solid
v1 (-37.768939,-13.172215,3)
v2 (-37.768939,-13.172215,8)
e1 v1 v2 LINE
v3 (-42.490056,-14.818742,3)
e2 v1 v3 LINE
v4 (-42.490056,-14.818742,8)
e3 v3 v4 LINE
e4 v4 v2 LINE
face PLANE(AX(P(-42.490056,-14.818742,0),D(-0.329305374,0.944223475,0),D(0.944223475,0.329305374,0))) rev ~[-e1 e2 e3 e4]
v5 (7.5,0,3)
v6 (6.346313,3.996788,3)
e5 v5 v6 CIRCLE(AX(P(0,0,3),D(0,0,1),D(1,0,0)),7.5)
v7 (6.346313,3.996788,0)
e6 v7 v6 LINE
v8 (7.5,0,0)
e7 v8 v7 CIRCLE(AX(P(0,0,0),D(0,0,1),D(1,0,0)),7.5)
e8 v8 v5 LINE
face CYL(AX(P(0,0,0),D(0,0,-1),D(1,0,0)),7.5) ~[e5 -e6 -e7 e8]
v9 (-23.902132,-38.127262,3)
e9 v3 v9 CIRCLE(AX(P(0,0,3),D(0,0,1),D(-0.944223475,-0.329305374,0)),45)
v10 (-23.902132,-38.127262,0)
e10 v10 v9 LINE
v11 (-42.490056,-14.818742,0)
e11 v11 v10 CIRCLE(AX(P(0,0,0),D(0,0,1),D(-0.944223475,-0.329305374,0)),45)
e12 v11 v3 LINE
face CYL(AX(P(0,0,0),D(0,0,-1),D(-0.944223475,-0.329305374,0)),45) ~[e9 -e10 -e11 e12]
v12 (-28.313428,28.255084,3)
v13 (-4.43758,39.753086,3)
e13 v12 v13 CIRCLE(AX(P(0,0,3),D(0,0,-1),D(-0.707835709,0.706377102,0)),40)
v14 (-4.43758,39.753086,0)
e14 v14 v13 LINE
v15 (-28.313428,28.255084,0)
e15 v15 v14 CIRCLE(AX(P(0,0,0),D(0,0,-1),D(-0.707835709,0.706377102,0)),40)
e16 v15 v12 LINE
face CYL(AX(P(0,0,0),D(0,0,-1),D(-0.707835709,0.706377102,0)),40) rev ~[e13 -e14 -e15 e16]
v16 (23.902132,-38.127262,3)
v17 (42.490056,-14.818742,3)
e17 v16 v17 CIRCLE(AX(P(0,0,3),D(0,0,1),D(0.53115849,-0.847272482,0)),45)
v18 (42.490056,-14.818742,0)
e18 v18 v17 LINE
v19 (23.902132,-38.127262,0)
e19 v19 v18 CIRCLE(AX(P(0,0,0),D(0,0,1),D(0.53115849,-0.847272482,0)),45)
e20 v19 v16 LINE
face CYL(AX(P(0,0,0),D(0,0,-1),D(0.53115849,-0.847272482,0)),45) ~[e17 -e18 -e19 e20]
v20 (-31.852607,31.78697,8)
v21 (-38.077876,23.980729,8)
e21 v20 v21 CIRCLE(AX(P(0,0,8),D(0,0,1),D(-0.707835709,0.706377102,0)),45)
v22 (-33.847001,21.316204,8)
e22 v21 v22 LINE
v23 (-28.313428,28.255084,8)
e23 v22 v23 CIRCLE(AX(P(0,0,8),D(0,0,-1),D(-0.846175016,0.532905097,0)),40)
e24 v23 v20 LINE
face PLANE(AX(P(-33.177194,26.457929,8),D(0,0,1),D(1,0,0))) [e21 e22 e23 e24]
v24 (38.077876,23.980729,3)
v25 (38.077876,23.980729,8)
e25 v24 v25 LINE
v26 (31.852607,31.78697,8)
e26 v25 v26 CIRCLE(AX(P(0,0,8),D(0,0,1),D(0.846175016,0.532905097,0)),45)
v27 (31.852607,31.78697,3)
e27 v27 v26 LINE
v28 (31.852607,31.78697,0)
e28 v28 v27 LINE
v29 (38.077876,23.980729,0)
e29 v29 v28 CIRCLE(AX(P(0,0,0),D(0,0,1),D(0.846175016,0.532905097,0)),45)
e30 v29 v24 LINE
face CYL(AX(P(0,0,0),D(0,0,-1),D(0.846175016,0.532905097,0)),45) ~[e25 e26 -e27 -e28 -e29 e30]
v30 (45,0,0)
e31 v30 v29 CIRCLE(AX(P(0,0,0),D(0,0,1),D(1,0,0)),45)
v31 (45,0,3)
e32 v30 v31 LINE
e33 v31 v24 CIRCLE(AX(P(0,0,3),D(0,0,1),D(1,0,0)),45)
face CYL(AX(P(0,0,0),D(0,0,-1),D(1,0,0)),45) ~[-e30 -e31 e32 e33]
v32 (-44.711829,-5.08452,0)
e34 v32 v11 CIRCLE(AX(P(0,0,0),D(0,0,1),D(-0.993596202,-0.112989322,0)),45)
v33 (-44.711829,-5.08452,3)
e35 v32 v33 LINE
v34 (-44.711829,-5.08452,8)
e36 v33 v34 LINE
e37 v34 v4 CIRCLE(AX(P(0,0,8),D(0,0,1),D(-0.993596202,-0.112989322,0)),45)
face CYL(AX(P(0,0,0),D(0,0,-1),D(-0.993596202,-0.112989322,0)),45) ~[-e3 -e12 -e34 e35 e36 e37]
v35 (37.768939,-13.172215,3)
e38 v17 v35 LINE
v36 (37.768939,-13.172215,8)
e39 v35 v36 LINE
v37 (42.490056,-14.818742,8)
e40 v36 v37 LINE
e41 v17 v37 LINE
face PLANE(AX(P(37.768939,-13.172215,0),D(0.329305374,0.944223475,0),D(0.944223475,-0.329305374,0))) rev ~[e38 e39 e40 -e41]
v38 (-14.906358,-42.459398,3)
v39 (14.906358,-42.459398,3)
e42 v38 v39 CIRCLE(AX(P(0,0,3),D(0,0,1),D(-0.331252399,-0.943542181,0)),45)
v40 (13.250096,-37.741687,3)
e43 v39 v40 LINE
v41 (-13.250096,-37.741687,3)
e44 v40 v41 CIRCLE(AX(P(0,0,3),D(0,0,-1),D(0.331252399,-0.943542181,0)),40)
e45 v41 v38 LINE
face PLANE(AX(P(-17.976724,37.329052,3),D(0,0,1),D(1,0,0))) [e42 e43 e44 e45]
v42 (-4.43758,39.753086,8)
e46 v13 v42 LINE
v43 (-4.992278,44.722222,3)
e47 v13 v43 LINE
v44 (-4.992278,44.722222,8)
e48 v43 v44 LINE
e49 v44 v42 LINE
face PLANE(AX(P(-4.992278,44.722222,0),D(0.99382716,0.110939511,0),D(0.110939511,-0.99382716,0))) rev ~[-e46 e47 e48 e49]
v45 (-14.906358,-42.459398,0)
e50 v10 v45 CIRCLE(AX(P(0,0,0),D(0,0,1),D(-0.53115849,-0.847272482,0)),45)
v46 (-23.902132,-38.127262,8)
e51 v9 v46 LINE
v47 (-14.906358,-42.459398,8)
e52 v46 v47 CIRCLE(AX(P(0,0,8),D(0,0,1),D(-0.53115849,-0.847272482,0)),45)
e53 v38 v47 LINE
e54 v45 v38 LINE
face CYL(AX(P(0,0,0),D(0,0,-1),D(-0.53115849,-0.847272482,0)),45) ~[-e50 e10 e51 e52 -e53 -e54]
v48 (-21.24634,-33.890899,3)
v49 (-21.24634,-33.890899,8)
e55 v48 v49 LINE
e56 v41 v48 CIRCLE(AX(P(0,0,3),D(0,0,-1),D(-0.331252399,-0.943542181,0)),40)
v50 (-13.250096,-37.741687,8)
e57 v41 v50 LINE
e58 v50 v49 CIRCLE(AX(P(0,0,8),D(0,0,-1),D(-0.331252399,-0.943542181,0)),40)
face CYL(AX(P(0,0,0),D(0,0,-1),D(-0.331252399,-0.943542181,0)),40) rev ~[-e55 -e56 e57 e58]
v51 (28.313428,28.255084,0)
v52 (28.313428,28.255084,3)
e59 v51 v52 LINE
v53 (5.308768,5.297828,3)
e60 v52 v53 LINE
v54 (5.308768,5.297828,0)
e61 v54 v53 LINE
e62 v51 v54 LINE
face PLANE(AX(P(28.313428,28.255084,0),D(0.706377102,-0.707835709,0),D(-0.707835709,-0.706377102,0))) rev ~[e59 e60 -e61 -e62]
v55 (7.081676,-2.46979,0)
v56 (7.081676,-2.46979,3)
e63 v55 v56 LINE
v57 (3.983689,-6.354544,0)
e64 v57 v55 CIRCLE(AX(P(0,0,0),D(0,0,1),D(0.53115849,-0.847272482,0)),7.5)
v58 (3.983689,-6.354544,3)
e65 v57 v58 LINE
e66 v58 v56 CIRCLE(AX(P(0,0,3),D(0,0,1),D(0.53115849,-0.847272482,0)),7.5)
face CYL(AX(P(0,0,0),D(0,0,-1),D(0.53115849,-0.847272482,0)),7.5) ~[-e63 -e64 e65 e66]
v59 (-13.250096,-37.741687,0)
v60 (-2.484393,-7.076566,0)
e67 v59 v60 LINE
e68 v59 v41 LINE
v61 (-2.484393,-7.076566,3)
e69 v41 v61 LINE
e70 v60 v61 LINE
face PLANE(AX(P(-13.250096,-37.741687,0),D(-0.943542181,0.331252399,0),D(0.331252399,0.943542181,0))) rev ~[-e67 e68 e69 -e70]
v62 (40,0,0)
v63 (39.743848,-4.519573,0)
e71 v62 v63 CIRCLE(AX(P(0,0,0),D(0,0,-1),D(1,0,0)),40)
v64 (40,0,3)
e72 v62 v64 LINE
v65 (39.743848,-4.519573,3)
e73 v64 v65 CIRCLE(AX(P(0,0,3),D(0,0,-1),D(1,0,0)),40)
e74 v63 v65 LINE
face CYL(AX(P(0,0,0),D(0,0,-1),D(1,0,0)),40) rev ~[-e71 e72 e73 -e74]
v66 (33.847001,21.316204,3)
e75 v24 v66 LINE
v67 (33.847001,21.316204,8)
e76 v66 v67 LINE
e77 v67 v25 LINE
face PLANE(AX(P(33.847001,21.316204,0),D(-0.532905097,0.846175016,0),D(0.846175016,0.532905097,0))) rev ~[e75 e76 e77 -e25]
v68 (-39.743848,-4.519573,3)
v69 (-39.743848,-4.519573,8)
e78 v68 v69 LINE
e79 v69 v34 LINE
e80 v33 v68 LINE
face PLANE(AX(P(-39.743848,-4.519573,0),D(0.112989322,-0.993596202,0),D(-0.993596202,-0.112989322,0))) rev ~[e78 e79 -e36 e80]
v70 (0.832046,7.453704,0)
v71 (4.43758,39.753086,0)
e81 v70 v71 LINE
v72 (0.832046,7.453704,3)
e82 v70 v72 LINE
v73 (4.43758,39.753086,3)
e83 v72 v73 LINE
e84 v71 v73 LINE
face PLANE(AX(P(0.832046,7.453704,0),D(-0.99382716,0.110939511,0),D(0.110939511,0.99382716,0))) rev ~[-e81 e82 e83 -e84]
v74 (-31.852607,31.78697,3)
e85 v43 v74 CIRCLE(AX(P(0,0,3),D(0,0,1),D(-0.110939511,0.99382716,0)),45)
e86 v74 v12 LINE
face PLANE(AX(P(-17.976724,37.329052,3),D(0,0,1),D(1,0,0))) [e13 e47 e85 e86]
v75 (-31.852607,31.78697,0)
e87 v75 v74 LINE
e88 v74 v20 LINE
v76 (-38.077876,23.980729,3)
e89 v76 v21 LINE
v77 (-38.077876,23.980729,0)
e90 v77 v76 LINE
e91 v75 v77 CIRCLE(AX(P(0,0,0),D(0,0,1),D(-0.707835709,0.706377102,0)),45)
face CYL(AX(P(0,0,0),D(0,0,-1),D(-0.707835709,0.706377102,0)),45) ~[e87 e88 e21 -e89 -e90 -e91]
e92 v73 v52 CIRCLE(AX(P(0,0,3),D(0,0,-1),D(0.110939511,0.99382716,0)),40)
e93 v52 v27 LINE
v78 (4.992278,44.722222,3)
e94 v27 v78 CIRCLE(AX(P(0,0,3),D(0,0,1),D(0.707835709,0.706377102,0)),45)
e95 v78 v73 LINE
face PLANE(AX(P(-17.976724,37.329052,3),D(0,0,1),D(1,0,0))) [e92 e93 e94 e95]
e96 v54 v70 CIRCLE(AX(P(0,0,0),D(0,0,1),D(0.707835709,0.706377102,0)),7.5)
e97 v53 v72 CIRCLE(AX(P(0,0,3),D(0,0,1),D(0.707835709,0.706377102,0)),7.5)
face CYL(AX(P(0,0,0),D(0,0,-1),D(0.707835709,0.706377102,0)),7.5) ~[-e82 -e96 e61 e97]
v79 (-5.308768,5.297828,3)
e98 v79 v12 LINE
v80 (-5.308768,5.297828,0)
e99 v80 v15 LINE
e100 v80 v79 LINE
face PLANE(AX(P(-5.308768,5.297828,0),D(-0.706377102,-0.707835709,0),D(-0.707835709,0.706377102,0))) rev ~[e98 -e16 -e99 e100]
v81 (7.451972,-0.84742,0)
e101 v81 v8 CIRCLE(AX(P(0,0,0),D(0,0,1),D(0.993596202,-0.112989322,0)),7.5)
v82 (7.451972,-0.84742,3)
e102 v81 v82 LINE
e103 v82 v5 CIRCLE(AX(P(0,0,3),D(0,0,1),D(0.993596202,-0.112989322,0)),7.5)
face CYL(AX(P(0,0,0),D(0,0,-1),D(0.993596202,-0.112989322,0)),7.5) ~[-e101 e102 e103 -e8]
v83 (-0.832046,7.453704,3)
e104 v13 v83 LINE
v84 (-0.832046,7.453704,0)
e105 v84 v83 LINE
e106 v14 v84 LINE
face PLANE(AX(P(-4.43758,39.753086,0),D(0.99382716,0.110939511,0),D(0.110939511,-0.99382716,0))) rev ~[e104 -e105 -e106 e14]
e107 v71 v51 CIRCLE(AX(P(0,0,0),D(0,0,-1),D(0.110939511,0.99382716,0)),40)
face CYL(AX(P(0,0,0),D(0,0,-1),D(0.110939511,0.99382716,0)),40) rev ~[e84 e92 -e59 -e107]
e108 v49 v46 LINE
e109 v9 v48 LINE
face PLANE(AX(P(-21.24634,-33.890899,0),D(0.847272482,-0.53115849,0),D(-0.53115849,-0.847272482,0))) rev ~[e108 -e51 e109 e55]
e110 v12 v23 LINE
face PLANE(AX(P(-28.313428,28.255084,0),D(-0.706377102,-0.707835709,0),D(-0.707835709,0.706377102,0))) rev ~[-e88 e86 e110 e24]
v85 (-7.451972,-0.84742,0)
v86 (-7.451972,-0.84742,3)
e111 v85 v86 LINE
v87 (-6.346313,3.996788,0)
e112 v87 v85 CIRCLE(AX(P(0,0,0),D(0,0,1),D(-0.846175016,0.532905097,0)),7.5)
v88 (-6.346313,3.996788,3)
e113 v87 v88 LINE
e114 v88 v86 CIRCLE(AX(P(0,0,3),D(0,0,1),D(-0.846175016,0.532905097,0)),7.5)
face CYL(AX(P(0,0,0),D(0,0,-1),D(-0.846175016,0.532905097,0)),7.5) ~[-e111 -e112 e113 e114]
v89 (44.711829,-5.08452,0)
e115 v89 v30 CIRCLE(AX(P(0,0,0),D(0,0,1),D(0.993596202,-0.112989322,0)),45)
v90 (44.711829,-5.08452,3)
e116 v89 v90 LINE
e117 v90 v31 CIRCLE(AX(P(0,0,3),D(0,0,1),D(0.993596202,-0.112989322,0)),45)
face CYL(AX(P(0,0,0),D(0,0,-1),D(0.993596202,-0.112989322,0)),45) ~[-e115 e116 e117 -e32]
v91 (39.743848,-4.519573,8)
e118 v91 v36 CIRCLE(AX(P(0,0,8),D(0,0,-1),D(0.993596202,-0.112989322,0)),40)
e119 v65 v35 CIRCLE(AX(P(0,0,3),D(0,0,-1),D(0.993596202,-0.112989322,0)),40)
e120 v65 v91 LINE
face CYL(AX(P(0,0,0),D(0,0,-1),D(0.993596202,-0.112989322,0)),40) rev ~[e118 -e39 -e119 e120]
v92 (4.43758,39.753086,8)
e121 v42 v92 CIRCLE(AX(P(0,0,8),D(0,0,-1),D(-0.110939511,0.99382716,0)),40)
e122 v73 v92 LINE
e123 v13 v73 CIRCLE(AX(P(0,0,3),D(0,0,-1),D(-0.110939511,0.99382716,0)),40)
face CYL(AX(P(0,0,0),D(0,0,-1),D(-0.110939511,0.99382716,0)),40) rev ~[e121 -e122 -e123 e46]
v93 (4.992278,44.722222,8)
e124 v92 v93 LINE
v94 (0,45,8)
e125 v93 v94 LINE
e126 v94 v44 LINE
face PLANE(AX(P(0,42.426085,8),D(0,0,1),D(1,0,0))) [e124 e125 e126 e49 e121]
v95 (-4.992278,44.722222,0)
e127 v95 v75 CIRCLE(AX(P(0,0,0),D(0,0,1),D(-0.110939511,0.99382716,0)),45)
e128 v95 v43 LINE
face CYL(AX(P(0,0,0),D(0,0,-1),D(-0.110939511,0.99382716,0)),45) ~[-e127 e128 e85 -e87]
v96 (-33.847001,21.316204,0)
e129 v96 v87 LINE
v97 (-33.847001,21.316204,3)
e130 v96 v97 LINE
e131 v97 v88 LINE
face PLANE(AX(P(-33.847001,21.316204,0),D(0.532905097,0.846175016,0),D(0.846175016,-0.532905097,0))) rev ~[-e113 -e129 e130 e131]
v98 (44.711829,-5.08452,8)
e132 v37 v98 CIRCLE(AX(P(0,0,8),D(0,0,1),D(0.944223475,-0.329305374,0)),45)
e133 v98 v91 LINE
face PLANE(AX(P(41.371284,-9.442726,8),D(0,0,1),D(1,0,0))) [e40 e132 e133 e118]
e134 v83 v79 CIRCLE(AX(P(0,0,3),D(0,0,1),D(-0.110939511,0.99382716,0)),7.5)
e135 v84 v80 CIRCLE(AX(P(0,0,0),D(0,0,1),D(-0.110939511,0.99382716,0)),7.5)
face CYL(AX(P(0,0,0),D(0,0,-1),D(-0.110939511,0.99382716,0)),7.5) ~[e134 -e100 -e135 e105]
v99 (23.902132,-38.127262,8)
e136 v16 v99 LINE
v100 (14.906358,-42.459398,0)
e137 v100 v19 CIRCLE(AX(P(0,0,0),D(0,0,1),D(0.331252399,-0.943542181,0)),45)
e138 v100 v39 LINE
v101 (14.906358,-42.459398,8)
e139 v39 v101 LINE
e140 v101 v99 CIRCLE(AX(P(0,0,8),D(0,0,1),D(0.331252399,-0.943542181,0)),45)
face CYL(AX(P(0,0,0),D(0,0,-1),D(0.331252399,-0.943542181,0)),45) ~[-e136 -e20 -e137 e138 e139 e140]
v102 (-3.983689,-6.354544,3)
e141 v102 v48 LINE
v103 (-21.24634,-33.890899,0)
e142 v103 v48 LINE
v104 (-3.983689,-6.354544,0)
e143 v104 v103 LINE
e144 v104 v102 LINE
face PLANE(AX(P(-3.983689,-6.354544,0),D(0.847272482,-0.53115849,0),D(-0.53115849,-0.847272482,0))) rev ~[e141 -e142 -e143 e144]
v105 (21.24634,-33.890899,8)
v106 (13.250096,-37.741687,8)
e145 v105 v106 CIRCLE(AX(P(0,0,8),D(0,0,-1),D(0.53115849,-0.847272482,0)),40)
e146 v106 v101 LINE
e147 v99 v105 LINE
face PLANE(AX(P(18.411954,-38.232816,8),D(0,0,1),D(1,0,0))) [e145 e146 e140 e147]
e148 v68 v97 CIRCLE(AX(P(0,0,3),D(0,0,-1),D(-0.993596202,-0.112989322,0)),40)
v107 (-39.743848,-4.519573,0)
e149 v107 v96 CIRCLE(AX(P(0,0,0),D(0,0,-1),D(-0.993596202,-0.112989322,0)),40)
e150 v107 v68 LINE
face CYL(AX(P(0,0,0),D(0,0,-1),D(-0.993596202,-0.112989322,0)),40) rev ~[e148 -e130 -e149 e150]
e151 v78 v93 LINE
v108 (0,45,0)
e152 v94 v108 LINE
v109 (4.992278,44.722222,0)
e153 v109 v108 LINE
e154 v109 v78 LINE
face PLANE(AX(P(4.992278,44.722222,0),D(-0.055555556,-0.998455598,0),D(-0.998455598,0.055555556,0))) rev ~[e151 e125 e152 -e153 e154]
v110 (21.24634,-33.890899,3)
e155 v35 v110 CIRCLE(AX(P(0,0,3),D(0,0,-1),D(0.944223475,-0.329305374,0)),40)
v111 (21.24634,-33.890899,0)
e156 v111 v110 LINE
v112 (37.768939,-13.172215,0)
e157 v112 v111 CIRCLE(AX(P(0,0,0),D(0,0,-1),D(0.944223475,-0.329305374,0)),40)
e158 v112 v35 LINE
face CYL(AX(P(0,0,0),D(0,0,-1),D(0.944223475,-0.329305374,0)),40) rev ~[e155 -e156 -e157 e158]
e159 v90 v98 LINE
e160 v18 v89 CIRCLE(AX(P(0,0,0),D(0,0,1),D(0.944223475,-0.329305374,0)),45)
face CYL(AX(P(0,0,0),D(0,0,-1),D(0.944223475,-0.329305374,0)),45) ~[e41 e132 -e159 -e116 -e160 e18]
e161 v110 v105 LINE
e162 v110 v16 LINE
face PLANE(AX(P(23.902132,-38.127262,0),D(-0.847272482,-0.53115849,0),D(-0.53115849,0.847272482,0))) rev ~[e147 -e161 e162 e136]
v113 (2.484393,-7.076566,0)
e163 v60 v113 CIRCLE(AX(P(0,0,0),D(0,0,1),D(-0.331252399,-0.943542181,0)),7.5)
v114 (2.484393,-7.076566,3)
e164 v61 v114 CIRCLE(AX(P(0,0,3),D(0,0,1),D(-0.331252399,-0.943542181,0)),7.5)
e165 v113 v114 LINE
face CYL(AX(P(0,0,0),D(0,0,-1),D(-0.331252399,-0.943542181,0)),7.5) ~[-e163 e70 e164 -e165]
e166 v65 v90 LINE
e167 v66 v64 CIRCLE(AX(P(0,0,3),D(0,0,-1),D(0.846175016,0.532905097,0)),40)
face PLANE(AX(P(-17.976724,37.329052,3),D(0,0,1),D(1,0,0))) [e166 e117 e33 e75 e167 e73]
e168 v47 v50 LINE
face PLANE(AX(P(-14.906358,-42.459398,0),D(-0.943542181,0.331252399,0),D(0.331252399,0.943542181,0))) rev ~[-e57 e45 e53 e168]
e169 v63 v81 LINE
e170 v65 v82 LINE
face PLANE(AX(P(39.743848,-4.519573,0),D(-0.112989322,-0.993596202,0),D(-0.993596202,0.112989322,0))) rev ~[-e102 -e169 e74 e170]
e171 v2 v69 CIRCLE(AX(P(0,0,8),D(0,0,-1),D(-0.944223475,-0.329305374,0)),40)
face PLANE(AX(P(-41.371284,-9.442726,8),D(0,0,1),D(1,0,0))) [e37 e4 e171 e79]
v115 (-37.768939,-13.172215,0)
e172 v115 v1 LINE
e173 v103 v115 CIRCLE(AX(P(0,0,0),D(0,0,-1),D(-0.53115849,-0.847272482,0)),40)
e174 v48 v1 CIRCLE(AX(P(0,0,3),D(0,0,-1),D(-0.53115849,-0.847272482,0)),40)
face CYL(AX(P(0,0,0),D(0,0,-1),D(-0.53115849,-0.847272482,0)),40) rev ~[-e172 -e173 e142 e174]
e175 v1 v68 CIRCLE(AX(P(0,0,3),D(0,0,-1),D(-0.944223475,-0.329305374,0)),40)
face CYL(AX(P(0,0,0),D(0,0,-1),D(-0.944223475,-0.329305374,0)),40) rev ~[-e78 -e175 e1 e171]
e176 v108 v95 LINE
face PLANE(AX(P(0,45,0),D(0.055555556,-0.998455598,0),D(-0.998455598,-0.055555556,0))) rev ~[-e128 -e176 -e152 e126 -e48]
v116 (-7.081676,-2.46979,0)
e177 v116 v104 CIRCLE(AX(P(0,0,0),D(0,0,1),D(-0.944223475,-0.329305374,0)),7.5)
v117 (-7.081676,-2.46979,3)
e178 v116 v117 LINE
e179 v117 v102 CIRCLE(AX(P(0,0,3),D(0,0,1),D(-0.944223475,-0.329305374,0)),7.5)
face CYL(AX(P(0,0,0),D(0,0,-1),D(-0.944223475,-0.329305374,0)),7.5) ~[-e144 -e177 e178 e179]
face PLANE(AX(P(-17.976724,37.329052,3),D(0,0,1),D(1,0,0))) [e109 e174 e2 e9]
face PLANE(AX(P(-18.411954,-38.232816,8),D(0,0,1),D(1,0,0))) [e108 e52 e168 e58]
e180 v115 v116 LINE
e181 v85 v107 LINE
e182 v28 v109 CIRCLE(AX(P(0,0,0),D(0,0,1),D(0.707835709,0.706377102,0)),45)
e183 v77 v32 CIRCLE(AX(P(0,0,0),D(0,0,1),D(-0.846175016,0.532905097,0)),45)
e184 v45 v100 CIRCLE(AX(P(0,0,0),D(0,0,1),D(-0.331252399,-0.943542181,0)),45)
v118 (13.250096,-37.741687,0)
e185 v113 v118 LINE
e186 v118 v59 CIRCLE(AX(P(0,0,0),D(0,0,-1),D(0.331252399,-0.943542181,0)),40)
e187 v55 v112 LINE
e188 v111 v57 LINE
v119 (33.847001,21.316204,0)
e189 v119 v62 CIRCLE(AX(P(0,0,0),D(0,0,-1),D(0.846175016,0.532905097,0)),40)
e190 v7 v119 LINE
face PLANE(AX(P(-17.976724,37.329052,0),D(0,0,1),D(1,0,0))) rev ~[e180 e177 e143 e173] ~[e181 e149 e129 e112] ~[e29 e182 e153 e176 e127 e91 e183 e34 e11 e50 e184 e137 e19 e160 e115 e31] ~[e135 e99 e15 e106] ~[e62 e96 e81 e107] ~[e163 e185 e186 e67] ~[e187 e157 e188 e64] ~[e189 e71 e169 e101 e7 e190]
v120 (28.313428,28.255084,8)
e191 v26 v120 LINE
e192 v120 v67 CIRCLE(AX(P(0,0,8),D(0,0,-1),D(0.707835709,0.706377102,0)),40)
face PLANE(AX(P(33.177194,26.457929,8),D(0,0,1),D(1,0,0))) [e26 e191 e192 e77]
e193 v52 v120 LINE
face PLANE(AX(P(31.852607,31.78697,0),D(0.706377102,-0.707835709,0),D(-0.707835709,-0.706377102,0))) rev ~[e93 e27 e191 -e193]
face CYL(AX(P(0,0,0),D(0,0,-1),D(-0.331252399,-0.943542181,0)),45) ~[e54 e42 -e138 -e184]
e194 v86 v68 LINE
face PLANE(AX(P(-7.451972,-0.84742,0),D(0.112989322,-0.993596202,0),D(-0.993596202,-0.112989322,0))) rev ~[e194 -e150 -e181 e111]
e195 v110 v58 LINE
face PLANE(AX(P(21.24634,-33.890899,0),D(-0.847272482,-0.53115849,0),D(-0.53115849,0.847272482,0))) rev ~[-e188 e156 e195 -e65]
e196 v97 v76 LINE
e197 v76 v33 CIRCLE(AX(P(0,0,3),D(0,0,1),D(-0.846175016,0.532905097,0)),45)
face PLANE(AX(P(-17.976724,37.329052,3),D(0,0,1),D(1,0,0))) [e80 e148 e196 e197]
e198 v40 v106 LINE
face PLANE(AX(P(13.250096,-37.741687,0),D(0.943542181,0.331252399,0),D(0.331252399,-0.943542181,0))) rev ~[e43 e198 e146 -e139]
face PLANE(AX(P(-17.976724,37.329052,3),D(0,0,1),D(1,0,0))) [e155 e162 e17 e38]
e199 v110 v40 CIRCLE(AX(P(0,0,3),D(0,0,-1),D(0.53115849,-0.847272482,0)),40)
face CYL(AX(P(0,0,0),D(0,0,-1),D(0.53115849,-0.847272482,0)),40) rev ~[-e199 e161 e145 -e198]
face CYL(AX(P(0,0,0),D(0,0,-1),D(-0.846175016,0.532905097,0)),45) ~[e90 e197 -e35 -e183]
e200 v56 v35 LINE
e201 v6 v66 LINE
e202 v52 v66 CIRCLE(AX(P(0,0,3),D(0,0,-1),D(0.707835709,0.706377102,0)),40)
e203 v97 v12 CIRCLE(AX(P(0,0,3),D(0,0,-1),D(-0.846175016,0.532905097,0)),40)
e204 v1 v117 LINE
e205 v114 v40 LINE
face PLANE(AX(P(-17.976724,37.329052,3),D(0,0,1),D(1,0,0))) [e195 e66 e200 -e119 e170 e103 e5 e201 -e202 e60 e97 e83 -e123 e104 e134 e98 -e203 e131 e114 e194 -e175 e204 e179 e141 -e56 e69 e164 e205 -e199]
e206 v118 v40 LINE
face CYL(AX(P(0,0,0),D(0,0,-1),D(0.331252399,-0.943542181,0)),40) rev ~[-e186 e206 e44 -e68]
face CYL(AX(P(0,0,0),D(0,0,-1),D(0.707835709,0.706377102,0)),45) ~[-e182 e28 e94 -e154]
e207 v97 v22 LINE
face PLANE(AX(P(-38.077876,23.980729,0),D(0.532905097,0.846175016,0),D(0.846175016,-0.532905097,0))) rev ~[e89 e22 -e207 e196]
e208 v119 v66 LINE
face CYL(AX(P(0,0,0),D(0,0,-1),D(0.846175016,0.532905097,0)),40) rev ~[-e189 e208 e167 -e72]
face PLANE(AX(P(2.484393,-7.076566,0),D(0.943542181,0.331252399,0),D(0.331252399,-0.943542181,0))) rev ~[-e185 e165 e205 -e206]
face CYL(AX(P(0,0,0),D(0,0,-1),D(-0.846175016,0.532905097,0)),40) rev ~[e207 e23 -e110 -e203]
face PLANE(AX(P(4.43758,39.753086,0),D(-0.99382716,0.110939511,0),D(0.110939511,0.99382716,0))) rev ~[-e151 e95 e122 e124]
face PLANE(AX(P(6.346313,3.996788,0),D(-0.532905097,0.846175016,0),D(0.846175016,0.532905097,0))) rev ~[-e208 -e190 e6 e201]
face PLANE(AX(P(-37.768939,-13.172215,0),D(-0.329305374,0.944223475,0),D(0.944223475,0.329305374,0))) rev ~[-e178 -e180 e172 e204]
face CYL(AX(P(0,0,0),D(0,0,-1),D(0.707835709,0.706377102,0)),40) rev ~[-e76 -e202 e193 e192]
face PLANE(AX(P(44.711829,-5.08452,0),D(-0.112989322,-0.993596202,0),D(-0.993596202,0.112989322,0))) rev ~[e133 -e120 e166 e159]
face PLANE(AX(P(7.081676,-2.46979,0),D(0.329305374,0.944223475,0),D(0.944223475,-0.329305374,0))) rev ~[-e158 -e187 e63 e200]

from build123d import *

# Parameters (mm, degrees)
F1_DEPTH = 3
F2_DEPTH = 8


with BuildPart() as f1:
    # F0 (on Top) → F1 (new body)
    with BuildSketch(Plane.XY):
        with BuildLine():
            Line((-4.4375804335, 39.7530864198), (-4.9922779877, 44.7222222222))
            ThreePointArc((-4.9922779877, 44.7222222222), (-19.5247682603, 40.5435990556), (-31.8526068859, 31.786969572))
            Line((-31.8526068859, 31.786969572), (-28.313428343, 28.255084064))
            ThreePointArc((-28.313428343, 28.255084064), (-17.3553495647, 36.0387547161), (-4.4375804335, 39.7530864198))
        make_face()
        with BuildLine():
            Line((-28.313428343, 28.255084064), (-31.8526068859, 31.786969572))
            ThreePointArc((-31.8526068859, 31.786969572), (-35.1824167111, 28.0570410836), (-38.0778757126, 23.980729372))
            Line((-38.0778757126, 23.980729372), (-33.8470006334, 21.3162038862))
            ThreePointArc((-33.8470006334, 21.3162038862), (-31.2732592987, 24.9395920743), (-28.313428343, 28.255084064))
        make_face()
        with BuildLine():
            ThreePointArc((-6.3463126188, 3.9967882287), (-5.8637361185, 4.6761735139), (-5.3087678143, 5.297828262))
            Line((-5.3087678143, 5.297828262), (-28.313428343, 28.255084064))
            ThreePointArc((-28.313428343, 28.255084064), (-31.2732592987, 24.9395920743), (-33.8470006334, 21.3162038862))
            Line((-33.8470006334, 21.3162038862), (-6.3463126188, 3.9967882287))
        make_face()
        with BuildLine():
            ThreePointArc((-7.0816760631, -2.4697903022), (-7.3119593414, -1.6689070047), (-7.4519715166, -0.847419917))
            Line((-7.4519715166, -0.847419917), (-39.7438480886, -4.5195728906))
            ThreePointArc((-39.7438480886, -4.5195728906), (-38.9971164873, -8.9008373583), (-37.7689390034, -13.1722149449))
            Line((-37.7689390034, -13.1722149449), (-7.0816760631, -2.4697903022))
        make_face()
        with BuildLine():
            ThreePointArc((-37.7689390034, -13.1722149449), (-38.9971164873, -8.9008373583), (-39.7438480886, -4.5195728906))
            Line((-39.7438480886, -4.5195728906), (-44.7118290996, -5.0845195019))
            ThreePointArc((-44.7118290996, -5.0845195019), (-43.8717560482, -10.013442028), (-42.4900563789, -14.818741813))
            Line((-42.4900563789, -14.818741813), (-37.7689390034, -13.1722149449))
        make_face()
        with BuildLine():
            ThreePointArc((-39.7438480886, -4.5195728906), (-38.9971164873, 8.9008373583), (-33.8470006334, 21.3162038862))
            Line((-33.8470006334, 21.3162038862), (-38.0778757126, 23.980729372))
            ThreePointArc((-38.0778757126, 23.980729372), (-43.8717560482, 10.013442028), (-44.7118290996, -5.0845195019))
            Line((-44.7118290996, -5.0845195019), (-39.7438480886, -4.5195728906))
        make_face()
        with BuildLine():
            ThreePointArc((-21.2463395966, -33.8908992761), (-31.2732592987, -24.9395920743), (-37.7689390034, -13.1722149449))
            Line((-37.7689390034, -13.1722149449), (-42.4900563789, -14.818741813))
            ThreePointArc((-42.4900563789, -14.818741813), (-35.1824167111, -28.0570410836), (-23.9021320462, -38.1272616856))
            Line((-23.9021320462, -38.1272616856), (-21.2463395966, -33.8908992761))
        make_face()
        with BuildLine():
            ThreePointArc((-2.4843929921, -7.0765663609), (-3.2541280434, -6.7572665093), (-3.9836886744, -6.3545436143))
            Line((-3.9836886744, -6.3545436143), (-21.2463395966, -33.8908992761))
            ThreePointArc((-21.2463395966, -33.8908992761), (-17.3553495647, -36.0387547161), (-13.2500959579, -37.7416872583))
            Line((-13.2500959579, -37.7416872583), (-2.4843929921, -7.0765663609))
        make_face()
        with BuildLine():
            ThreePointArc((-23.9021320462, -38.1272616856), (-19.5247682603, -40.5435990556), (-14.9063579526, -42.4593981656))
            Line((-14.9063579526, -42.4593981656), (-13.2500959579, -37.7416872583))
            ThreePointArc((-13.2500959579, -37.7416872583), (-17.3553495647, -36.0387547161), (-21.2463395966, -33.8908992761))
            Line((-21.2463395966, -33.8908992761), (-23.9021320462, -38.1272616856))
        make_face()
        with BuildLine():
            ThreePointArc((-14.9063579526, -42.4593981656), (0, -45), (14.9063579526, -42.4593981656))
            Line((14.9063579526, -42.4593981656), (13.2500959579, -37.7416872583))
            ThreePointArc((13.2500959579, -37.7416872583), (0, -40), (-13.2500959579, -37.7416872583))
            Line((-13.2500959579, -37.7416872583), (-14.9063579526, -42.4593981656))
        make_face()
        with BuildLine():
            ThreePointArc((14.9063579526, -42.4593981656), (19.5247682603, -40.5435990556), (23.9021320462, -38.1272616856))
            Line((23.9021320462, -38.1272616856), (21.2463395966, -33.8908992761))
            ThreePointArc((21.2463395966, -33.8908992761), (17.3553495647, -36.0387547161), (13.2500959579, -37.7416872583))
            Line((13.2500959579, -37.7416872583), (14.9063579526, -42.4593981656))
        make_face()
        with BuildLine():
            ThreePointArc((13.2500959579, -37.7416872583), (17.3553495647, -36.0387547161), (21.2463395966, -33.8908992761))
            Line((21.2463395966, -33.8908992761), (3.9836886744, -6.3545436143))
            ThreePointArc((3.9836886744, -6.3545436143), (3.2541280434, -6.7572665093), (2.4843929921, -7.0765663609))
            Line((2.4843929921, -7.0765663609), (13.2500959579, -37.7416872583))
        make_face()
        with BuildLine():
            ThreePointArc((23.9021320462, -38.1272616856), (35.1824167111, -28.0570410836), (42.4900563789, -14.818741813))
            Line((42.4900563789, -14.818741813), (37.7689390034, -13.1722149449))
            ThreePointArc((37.7689390034, -13.1722149449), (31.2732592987, -24.9395920743), (21.2463395966, -33.8908992761))
            Line((21.2463395966, -33.8908992761), (23.9021320462, -38.1272616856))
        make_face()
        with BuildLine():
            ThreePointArc((42.4900563789, -14.818741813), (43.8717560482, -10.013442028), (44.7118290996, -5.0845195019))
            Line((44.7118290996, -5.0845195019), (39.7438480886, -4.5195728906))
            ThreePointArc((39.7438480886, -4.5195728906), (38.9971164873, -8.9008373583), (37.7689390034, -13.1722149449))
            Line((37.7689390034, -13.1722149449), (42.4900563789, -14.818741813))
        make_face()
        with BuildLine():
            ThreePointArc((37.7689390034, -13.1722149449), (38.9971164873, -8.9008373583), (39.7438480886, -4.5195728906))
            Line((39.7438480886, -4.5195728906), (7.4519715166, -0.847419917))
            ThreePointArc((7.4519715166, -0.847419917), (7.3119593414, -1.6689070047), (7.0816760631, -2.4697903022))
            Line((7.0816760631, -2.4697903022), (37.7689390034, -13.1722149449))
        make_face()
        with BuildLine():
            Line((-5.3087678143, 5.297828262), (0, 0))
            Line((0, 0), (-0.8320463313, 7.4537037037))
            ThreePointArc((-0.8320463313, 7.4537037037), (-3.2541280434, 6.7572665093), (-5.3087678143, 5.297828262))
        make_face()
        with BuildLine():
            Line((-6.3463126188, 3.9967882287), (0, 0))
            Line((0, 0), (-5.3087678143, 5.297828262))
            ThreePointArc((-5.3087678143, 5.297828262), (-5.8637361185, 4.6761735139), (-6.3463126188, 3.9967882287))
        make_face()
        with BuildLine():
            Line((-7.4519715166, -0.847419917), (0, 0))
            Line((0, 0), (-6.3463126188, 3.9967882287))
            ThreePointArc((-6.3463126188, 3.9967882287), (-7.3119593414, 1.6689070047), (-7.4519715166, -0.847419917))
        make_face()
        with BuildLine():
            Line((-7.0816760631, -2.4697903022), (0, 0))
            Line((0, 0), (-7.4519715166, -0.847419917))
            ThreePointArc((-7.4519715166, -0.847419917), (-7.3119593414, -1.6689070047), (-7.0816760631, -2.4697903022))
        make_face()
        with BuildLine():
            Line((-3.9836886744, -6.3545436143), (0, 0))
            Line((0, 0), (-7.0816760631, -2.4697903022))
            ThreePointArc((-7.0816760631, -2.4697903022), (-5.8637361185, -4.6761735139), (-3.9836886744, -6.3545436143))
        make_face()
        with BuildLine():
            Line((-2.4843929921, -7.0765663609), (0, 0))
            Line((0, 0), (-3.9836886744, -6.3545436143))
            ThreePointArc((-3.9836886744, -6.3545436143), (-3.2541280434, -6.7572665093), (-2.4843929921, -7.0765663609))
        make_face()
        with BuildLine():
            Line((2.4843929921, -7.0765663609), (0, 0))
            Line((0, 0), (-2.4843929921, -7.0765663609))
            ThreePointArc((-2.4843929921, -7.0765663609), (0, -7.5), (2.4843929921, -7.0765663609))
        make_face()
        with BuildLine():
            Line((3.9836886744, -6.3545436143), (0, 0))
            Line((0, 0), (2.4843929921, -7.0765663609))
            ThreePointArc((2.4843929921, -7.0765663609), (3.2541280434, -6.7572665093), (3.9836886744, -6.3545436143))
        make_face()
        with BuildLine():
            Line((7.0816760631, -2.4697903022), (0, 0))
            Line((0, 0), (3.9836886744, -6.3545436143))
            ThreePointArc((3.9836886744, -6.3545436143), (5.8637361185, -4.6761735139), (7.0816760631, -2.4697903022))
        make_face()
        with BuildLine():
            ThreePointArc((7.0816760631, -2.4697903022), (7.3119593414, -1.6689070047), (7.4519715166, -0.847419917))
            Line((7.4519715166, -0.847419917), (0, 0))
            Line((0, 0), (7.0816760631, -2.4697903022))
        make_face()
        with BuildLine():
            ThreePointArc((7.5, 0), (7.2058082351, 2.0799826152), (6.3463126188, 3.9967882287))
            Line((6.3463126188, 3.9967882287), (0, 0))
            Line((0, 0), (7.4519715166, -0.847419917))
            ThreePointArc((7.4519715166, -0.847419917), (7.4879832523, -0.4243899301), (7.5, 0))
        make_face()
        with BuildLine():
            Line((0, 0), (6.3463126188, 3.9967882287))
            ThreePointArc((6.3463126188, 3.9967882287), (5.8637361185, 4.6761735139), (5.3087678143, 5.297828262))
            Line((5.3087678143, 5.297828262), (0, 0))
        make_face()
        with BuildLine():
            Line((0, 0), (5.3087678143, 5.297828262))
            ThreePointArc((5.3087678143, 5.297828262), (3.2541280434, 6.7572665093), (0.8320463313, 7.4537037037))
            Line((0.8320463313, 7.4537037037), (0, 0))
        make_face()
        with BuildLine():
            Line((-0.8320463313, 7.4537037037), (0, 0))
            Line((0, 0), (0.8320463313, 7.4537037037))
            ThreePointArc((0.8320463313, 7.4537037037), (0, 7.5), (-0.8320463313, 7.4537037037))
        make_face()
        with BuildLine():
            Line((6.3463126188, 3.9967882287), (33.8470006334, 21.3162038862))
            ThreePointArc((33.8470006334, 21.3162038862), (31.2732592987, 24.9395920743), (28.313428343, 28.255084064))
            Line((28.313428343, 28.255084064), (5.3087678143, 5.297828262))
            ThreePointArc((5.3087678143, 5.297828262), (5.8637361185, 4.6761735139), (6.3463126188, 3.9967882287))
        make_face()
        with BuildLine():
            Line((0.8320463313, 7.4537037037), (4.4375804335, 39.7530864198))
            ThreePointArc((4.4375804335, 39.7530864198), (0, 40), (-4.4375804335, 39.7530864198))
            Line((-4.4375804335, 39.7530864198), (-0.8320463313, 7.4537037037))
            ThreePointArc((-0.8320463313, 7.4537037037), (0, 7.5), (0.8320463313, 7.4537037037))
        make_face()
        with BuildLine():
            Line((4.4375804335, 39.7530864198), (4.9922779877, 44.7222222222))
            Line((4.9922779877, 44.7222222222), (0, 45))
            Line((0, 45), (-4.9922779877, 44.7222222222))
            Line((-4.9922779877, 44.7222222222), (-4.4375804335, 39.7530864198))
            ThreePointArc((-4.4375804335, 39.7530864198), (0, 40), (4.4375804335, 39.7530864198))
        make_face()
        with BuildLine():
            Line((28.313428343, 28.255084064), (31.8526068859, 31.786969572))
            ThreePointArc((31.8526068859, 31.786969572), (19.5247682603, 40.5435990556), (4.9922779877, 44.7222222222))
            Line((4.9922779877, 44.7222222222), (4.4375804335, 39.7530864198))
            ThreePointArc((4.4375804335, 39.7530864198), (17.3553495647, 36.0387547161), (28.313428343, 28.255084064))
        make_face()
        with BuildLine():
            Line((33.8470006334, 21.3162038862), (38.0778757126, 23.980729372))
            ThreePointArc((38.0778757126, 23.980729372), (35.1824167111, 28.0570410836), (31.8526068859, 31.786969572))
            Line((31.8526068859, 31.786969572), (28.313428343, 28.255084064))
            ThreePointArc((28.313428343, 28.255084064), (31.2732592987, 24.9395920743), (33.8470006334, 21.3162038862))
        make_face()
        with BuildLine():
            ThreePointArc((44.7118290996, -5.0845195019), (44.927899514, -2.5463395803), (45, 0))
            ThreePointArc((45, 0), (43.2348494103, 12.4798956913), (38.0778757126, 23.980729372))
            Line((38.0778757126, 23.980729372), (33.8470006334, 21.3162038862))
            ThreePointArc((33.8470006334, 21.3162038862), (38.4309772536, 11.0932406145), (40, 0))
            ThreePointArc((40, 0), (39.9359106791, -2.2634129603), (39.7438480886, -4.5195728906))
            Line((39.7438480886, -4.5195728906), (44.7118290996, -5.0845195019))
        make_face()
    extrude(amount=F1_DEPTH)

    # F0 (on Top) → F2 (join)
    with BuildSketch(Plane.XY):
        with BuildLine():
            Line((4.4375804335, 39.7530864198), (4.9922779877, 44.7222222222))
            Line((4.9922779877, 44.7222222222), (0, 45))
            Line((0, 45), (-4.9922779877, 44.7222222222))
            Line((-4.9922779877, 44.7222222222), (-4.4375804335, 39.7530864198))
            ThreePointArc((-4.4375804335, 39.7530864198), (0, 40), (4.4375804335, 39.7530864198))
        make_face()
        with BuildLine():
            Line((-28.313428343, 28.255084064), (-31.8526068859, 31.786969572))
            ThreePointArc((-31.8526068859, 31.786969572), (-35.1824167111, 28.0570410836), (-38.0778757126, 23.980729372))
            Line((-38.0778757126, 23.980729372), (-33.8470006334, 21.3162038862))
            ThreePointArc((-33.8470006334, 21.3162038862), (-31.2732592987, 24.9395920743), (-28.313428343, 28.255084064))
        make_face()
        with BuildLine():
            ThreePointArc((-37.7689390034, -13.1722149449), (-38.9971164873, -8.9008373583), (-39.7438480886, -4.5195728906))
            Line((-39.7438480886, -4.5195728906), (-44.7118290996, -5.0845195019))
            ThreePointArc((-44.7118290996, -5.0845195019), (-43.8717560482, -10.013442028), (-42.4900563789, -14.818741813))
            Line((-42.4900563789, -14.818741813), (-37.7689390034, -13.1722149449))
        make_face()
        with BuildLine():
            ThreePointArc((-23.9021320462, -38.1272616856), (-19.5247682603, -40.5435990556), (-14.9063579526, -42.4593981656))
            Line((-14.9063579526, -42.4593981656), (-13.2500959579, -37.7416872583))
            ThreePointArc((-13.2500959579, -37.7416872583), (-17.3553495647, -36.0387547161), (-21.2463395966, -33.8908992761))
            Line((-21.2463395966, -33.8908992761), (-23.9021320462, -38.1272616856))
        make_face()
        with BuildLine():
            ThreePointArc((14.9063579526, -42.4593981656), (19.5247682603, -40.5435990556), (23.9021320462, -38.1272616856))
            Line((23.9021320462, -38.1272616856), (21.2463395966, -33.8908992761))
            ThreePointArc((21.2463395966, -33.8908992761), (17.3553495647, -36.0387547161), (13.2500959579, -37.7416872583))
            Line((13.2500959579, -37.7416872583), (14.9063579526, -42.4593981656))
        make_face()
        with BuildLine():
            ThreePointArc((42.4900563789, -14.818741813), (43.8717560482, -10.013442028), (44.7118290996, -5.0845195019))
            Line((44.7118290996, -5.0845195019), (39.7438480886, -4.5195728906))
            ThreePointArc((39.7438480886, -4.5195728906), (38.9971164873, -8.9008373583), (37.7689390034, -13.1722149449))
            Line((37.7689390034, -13.1722149449), (42.4900563789, -14.818741813))
        make_face()
        with BuildLine():
            Line((33.8470006334, 21.3162038862), (38.0778757126, 23.980729372))
            ThreePointArc((38.0778757126, 23.980729372), (35.1824167111, 28.0570410836), (31.8526068859, 31.786969572))
            Line((31.8526068859, 31.786969572), (28.313428343, 28.255084064))
            ThreePointArc((28.313428343, 28.255084064), (31.2732592987, 24.9395920743), (33.8470006334, 21.3162038862))
        make_face()
    extrude(amount=F2_DEPTH)


solid = f1.part
